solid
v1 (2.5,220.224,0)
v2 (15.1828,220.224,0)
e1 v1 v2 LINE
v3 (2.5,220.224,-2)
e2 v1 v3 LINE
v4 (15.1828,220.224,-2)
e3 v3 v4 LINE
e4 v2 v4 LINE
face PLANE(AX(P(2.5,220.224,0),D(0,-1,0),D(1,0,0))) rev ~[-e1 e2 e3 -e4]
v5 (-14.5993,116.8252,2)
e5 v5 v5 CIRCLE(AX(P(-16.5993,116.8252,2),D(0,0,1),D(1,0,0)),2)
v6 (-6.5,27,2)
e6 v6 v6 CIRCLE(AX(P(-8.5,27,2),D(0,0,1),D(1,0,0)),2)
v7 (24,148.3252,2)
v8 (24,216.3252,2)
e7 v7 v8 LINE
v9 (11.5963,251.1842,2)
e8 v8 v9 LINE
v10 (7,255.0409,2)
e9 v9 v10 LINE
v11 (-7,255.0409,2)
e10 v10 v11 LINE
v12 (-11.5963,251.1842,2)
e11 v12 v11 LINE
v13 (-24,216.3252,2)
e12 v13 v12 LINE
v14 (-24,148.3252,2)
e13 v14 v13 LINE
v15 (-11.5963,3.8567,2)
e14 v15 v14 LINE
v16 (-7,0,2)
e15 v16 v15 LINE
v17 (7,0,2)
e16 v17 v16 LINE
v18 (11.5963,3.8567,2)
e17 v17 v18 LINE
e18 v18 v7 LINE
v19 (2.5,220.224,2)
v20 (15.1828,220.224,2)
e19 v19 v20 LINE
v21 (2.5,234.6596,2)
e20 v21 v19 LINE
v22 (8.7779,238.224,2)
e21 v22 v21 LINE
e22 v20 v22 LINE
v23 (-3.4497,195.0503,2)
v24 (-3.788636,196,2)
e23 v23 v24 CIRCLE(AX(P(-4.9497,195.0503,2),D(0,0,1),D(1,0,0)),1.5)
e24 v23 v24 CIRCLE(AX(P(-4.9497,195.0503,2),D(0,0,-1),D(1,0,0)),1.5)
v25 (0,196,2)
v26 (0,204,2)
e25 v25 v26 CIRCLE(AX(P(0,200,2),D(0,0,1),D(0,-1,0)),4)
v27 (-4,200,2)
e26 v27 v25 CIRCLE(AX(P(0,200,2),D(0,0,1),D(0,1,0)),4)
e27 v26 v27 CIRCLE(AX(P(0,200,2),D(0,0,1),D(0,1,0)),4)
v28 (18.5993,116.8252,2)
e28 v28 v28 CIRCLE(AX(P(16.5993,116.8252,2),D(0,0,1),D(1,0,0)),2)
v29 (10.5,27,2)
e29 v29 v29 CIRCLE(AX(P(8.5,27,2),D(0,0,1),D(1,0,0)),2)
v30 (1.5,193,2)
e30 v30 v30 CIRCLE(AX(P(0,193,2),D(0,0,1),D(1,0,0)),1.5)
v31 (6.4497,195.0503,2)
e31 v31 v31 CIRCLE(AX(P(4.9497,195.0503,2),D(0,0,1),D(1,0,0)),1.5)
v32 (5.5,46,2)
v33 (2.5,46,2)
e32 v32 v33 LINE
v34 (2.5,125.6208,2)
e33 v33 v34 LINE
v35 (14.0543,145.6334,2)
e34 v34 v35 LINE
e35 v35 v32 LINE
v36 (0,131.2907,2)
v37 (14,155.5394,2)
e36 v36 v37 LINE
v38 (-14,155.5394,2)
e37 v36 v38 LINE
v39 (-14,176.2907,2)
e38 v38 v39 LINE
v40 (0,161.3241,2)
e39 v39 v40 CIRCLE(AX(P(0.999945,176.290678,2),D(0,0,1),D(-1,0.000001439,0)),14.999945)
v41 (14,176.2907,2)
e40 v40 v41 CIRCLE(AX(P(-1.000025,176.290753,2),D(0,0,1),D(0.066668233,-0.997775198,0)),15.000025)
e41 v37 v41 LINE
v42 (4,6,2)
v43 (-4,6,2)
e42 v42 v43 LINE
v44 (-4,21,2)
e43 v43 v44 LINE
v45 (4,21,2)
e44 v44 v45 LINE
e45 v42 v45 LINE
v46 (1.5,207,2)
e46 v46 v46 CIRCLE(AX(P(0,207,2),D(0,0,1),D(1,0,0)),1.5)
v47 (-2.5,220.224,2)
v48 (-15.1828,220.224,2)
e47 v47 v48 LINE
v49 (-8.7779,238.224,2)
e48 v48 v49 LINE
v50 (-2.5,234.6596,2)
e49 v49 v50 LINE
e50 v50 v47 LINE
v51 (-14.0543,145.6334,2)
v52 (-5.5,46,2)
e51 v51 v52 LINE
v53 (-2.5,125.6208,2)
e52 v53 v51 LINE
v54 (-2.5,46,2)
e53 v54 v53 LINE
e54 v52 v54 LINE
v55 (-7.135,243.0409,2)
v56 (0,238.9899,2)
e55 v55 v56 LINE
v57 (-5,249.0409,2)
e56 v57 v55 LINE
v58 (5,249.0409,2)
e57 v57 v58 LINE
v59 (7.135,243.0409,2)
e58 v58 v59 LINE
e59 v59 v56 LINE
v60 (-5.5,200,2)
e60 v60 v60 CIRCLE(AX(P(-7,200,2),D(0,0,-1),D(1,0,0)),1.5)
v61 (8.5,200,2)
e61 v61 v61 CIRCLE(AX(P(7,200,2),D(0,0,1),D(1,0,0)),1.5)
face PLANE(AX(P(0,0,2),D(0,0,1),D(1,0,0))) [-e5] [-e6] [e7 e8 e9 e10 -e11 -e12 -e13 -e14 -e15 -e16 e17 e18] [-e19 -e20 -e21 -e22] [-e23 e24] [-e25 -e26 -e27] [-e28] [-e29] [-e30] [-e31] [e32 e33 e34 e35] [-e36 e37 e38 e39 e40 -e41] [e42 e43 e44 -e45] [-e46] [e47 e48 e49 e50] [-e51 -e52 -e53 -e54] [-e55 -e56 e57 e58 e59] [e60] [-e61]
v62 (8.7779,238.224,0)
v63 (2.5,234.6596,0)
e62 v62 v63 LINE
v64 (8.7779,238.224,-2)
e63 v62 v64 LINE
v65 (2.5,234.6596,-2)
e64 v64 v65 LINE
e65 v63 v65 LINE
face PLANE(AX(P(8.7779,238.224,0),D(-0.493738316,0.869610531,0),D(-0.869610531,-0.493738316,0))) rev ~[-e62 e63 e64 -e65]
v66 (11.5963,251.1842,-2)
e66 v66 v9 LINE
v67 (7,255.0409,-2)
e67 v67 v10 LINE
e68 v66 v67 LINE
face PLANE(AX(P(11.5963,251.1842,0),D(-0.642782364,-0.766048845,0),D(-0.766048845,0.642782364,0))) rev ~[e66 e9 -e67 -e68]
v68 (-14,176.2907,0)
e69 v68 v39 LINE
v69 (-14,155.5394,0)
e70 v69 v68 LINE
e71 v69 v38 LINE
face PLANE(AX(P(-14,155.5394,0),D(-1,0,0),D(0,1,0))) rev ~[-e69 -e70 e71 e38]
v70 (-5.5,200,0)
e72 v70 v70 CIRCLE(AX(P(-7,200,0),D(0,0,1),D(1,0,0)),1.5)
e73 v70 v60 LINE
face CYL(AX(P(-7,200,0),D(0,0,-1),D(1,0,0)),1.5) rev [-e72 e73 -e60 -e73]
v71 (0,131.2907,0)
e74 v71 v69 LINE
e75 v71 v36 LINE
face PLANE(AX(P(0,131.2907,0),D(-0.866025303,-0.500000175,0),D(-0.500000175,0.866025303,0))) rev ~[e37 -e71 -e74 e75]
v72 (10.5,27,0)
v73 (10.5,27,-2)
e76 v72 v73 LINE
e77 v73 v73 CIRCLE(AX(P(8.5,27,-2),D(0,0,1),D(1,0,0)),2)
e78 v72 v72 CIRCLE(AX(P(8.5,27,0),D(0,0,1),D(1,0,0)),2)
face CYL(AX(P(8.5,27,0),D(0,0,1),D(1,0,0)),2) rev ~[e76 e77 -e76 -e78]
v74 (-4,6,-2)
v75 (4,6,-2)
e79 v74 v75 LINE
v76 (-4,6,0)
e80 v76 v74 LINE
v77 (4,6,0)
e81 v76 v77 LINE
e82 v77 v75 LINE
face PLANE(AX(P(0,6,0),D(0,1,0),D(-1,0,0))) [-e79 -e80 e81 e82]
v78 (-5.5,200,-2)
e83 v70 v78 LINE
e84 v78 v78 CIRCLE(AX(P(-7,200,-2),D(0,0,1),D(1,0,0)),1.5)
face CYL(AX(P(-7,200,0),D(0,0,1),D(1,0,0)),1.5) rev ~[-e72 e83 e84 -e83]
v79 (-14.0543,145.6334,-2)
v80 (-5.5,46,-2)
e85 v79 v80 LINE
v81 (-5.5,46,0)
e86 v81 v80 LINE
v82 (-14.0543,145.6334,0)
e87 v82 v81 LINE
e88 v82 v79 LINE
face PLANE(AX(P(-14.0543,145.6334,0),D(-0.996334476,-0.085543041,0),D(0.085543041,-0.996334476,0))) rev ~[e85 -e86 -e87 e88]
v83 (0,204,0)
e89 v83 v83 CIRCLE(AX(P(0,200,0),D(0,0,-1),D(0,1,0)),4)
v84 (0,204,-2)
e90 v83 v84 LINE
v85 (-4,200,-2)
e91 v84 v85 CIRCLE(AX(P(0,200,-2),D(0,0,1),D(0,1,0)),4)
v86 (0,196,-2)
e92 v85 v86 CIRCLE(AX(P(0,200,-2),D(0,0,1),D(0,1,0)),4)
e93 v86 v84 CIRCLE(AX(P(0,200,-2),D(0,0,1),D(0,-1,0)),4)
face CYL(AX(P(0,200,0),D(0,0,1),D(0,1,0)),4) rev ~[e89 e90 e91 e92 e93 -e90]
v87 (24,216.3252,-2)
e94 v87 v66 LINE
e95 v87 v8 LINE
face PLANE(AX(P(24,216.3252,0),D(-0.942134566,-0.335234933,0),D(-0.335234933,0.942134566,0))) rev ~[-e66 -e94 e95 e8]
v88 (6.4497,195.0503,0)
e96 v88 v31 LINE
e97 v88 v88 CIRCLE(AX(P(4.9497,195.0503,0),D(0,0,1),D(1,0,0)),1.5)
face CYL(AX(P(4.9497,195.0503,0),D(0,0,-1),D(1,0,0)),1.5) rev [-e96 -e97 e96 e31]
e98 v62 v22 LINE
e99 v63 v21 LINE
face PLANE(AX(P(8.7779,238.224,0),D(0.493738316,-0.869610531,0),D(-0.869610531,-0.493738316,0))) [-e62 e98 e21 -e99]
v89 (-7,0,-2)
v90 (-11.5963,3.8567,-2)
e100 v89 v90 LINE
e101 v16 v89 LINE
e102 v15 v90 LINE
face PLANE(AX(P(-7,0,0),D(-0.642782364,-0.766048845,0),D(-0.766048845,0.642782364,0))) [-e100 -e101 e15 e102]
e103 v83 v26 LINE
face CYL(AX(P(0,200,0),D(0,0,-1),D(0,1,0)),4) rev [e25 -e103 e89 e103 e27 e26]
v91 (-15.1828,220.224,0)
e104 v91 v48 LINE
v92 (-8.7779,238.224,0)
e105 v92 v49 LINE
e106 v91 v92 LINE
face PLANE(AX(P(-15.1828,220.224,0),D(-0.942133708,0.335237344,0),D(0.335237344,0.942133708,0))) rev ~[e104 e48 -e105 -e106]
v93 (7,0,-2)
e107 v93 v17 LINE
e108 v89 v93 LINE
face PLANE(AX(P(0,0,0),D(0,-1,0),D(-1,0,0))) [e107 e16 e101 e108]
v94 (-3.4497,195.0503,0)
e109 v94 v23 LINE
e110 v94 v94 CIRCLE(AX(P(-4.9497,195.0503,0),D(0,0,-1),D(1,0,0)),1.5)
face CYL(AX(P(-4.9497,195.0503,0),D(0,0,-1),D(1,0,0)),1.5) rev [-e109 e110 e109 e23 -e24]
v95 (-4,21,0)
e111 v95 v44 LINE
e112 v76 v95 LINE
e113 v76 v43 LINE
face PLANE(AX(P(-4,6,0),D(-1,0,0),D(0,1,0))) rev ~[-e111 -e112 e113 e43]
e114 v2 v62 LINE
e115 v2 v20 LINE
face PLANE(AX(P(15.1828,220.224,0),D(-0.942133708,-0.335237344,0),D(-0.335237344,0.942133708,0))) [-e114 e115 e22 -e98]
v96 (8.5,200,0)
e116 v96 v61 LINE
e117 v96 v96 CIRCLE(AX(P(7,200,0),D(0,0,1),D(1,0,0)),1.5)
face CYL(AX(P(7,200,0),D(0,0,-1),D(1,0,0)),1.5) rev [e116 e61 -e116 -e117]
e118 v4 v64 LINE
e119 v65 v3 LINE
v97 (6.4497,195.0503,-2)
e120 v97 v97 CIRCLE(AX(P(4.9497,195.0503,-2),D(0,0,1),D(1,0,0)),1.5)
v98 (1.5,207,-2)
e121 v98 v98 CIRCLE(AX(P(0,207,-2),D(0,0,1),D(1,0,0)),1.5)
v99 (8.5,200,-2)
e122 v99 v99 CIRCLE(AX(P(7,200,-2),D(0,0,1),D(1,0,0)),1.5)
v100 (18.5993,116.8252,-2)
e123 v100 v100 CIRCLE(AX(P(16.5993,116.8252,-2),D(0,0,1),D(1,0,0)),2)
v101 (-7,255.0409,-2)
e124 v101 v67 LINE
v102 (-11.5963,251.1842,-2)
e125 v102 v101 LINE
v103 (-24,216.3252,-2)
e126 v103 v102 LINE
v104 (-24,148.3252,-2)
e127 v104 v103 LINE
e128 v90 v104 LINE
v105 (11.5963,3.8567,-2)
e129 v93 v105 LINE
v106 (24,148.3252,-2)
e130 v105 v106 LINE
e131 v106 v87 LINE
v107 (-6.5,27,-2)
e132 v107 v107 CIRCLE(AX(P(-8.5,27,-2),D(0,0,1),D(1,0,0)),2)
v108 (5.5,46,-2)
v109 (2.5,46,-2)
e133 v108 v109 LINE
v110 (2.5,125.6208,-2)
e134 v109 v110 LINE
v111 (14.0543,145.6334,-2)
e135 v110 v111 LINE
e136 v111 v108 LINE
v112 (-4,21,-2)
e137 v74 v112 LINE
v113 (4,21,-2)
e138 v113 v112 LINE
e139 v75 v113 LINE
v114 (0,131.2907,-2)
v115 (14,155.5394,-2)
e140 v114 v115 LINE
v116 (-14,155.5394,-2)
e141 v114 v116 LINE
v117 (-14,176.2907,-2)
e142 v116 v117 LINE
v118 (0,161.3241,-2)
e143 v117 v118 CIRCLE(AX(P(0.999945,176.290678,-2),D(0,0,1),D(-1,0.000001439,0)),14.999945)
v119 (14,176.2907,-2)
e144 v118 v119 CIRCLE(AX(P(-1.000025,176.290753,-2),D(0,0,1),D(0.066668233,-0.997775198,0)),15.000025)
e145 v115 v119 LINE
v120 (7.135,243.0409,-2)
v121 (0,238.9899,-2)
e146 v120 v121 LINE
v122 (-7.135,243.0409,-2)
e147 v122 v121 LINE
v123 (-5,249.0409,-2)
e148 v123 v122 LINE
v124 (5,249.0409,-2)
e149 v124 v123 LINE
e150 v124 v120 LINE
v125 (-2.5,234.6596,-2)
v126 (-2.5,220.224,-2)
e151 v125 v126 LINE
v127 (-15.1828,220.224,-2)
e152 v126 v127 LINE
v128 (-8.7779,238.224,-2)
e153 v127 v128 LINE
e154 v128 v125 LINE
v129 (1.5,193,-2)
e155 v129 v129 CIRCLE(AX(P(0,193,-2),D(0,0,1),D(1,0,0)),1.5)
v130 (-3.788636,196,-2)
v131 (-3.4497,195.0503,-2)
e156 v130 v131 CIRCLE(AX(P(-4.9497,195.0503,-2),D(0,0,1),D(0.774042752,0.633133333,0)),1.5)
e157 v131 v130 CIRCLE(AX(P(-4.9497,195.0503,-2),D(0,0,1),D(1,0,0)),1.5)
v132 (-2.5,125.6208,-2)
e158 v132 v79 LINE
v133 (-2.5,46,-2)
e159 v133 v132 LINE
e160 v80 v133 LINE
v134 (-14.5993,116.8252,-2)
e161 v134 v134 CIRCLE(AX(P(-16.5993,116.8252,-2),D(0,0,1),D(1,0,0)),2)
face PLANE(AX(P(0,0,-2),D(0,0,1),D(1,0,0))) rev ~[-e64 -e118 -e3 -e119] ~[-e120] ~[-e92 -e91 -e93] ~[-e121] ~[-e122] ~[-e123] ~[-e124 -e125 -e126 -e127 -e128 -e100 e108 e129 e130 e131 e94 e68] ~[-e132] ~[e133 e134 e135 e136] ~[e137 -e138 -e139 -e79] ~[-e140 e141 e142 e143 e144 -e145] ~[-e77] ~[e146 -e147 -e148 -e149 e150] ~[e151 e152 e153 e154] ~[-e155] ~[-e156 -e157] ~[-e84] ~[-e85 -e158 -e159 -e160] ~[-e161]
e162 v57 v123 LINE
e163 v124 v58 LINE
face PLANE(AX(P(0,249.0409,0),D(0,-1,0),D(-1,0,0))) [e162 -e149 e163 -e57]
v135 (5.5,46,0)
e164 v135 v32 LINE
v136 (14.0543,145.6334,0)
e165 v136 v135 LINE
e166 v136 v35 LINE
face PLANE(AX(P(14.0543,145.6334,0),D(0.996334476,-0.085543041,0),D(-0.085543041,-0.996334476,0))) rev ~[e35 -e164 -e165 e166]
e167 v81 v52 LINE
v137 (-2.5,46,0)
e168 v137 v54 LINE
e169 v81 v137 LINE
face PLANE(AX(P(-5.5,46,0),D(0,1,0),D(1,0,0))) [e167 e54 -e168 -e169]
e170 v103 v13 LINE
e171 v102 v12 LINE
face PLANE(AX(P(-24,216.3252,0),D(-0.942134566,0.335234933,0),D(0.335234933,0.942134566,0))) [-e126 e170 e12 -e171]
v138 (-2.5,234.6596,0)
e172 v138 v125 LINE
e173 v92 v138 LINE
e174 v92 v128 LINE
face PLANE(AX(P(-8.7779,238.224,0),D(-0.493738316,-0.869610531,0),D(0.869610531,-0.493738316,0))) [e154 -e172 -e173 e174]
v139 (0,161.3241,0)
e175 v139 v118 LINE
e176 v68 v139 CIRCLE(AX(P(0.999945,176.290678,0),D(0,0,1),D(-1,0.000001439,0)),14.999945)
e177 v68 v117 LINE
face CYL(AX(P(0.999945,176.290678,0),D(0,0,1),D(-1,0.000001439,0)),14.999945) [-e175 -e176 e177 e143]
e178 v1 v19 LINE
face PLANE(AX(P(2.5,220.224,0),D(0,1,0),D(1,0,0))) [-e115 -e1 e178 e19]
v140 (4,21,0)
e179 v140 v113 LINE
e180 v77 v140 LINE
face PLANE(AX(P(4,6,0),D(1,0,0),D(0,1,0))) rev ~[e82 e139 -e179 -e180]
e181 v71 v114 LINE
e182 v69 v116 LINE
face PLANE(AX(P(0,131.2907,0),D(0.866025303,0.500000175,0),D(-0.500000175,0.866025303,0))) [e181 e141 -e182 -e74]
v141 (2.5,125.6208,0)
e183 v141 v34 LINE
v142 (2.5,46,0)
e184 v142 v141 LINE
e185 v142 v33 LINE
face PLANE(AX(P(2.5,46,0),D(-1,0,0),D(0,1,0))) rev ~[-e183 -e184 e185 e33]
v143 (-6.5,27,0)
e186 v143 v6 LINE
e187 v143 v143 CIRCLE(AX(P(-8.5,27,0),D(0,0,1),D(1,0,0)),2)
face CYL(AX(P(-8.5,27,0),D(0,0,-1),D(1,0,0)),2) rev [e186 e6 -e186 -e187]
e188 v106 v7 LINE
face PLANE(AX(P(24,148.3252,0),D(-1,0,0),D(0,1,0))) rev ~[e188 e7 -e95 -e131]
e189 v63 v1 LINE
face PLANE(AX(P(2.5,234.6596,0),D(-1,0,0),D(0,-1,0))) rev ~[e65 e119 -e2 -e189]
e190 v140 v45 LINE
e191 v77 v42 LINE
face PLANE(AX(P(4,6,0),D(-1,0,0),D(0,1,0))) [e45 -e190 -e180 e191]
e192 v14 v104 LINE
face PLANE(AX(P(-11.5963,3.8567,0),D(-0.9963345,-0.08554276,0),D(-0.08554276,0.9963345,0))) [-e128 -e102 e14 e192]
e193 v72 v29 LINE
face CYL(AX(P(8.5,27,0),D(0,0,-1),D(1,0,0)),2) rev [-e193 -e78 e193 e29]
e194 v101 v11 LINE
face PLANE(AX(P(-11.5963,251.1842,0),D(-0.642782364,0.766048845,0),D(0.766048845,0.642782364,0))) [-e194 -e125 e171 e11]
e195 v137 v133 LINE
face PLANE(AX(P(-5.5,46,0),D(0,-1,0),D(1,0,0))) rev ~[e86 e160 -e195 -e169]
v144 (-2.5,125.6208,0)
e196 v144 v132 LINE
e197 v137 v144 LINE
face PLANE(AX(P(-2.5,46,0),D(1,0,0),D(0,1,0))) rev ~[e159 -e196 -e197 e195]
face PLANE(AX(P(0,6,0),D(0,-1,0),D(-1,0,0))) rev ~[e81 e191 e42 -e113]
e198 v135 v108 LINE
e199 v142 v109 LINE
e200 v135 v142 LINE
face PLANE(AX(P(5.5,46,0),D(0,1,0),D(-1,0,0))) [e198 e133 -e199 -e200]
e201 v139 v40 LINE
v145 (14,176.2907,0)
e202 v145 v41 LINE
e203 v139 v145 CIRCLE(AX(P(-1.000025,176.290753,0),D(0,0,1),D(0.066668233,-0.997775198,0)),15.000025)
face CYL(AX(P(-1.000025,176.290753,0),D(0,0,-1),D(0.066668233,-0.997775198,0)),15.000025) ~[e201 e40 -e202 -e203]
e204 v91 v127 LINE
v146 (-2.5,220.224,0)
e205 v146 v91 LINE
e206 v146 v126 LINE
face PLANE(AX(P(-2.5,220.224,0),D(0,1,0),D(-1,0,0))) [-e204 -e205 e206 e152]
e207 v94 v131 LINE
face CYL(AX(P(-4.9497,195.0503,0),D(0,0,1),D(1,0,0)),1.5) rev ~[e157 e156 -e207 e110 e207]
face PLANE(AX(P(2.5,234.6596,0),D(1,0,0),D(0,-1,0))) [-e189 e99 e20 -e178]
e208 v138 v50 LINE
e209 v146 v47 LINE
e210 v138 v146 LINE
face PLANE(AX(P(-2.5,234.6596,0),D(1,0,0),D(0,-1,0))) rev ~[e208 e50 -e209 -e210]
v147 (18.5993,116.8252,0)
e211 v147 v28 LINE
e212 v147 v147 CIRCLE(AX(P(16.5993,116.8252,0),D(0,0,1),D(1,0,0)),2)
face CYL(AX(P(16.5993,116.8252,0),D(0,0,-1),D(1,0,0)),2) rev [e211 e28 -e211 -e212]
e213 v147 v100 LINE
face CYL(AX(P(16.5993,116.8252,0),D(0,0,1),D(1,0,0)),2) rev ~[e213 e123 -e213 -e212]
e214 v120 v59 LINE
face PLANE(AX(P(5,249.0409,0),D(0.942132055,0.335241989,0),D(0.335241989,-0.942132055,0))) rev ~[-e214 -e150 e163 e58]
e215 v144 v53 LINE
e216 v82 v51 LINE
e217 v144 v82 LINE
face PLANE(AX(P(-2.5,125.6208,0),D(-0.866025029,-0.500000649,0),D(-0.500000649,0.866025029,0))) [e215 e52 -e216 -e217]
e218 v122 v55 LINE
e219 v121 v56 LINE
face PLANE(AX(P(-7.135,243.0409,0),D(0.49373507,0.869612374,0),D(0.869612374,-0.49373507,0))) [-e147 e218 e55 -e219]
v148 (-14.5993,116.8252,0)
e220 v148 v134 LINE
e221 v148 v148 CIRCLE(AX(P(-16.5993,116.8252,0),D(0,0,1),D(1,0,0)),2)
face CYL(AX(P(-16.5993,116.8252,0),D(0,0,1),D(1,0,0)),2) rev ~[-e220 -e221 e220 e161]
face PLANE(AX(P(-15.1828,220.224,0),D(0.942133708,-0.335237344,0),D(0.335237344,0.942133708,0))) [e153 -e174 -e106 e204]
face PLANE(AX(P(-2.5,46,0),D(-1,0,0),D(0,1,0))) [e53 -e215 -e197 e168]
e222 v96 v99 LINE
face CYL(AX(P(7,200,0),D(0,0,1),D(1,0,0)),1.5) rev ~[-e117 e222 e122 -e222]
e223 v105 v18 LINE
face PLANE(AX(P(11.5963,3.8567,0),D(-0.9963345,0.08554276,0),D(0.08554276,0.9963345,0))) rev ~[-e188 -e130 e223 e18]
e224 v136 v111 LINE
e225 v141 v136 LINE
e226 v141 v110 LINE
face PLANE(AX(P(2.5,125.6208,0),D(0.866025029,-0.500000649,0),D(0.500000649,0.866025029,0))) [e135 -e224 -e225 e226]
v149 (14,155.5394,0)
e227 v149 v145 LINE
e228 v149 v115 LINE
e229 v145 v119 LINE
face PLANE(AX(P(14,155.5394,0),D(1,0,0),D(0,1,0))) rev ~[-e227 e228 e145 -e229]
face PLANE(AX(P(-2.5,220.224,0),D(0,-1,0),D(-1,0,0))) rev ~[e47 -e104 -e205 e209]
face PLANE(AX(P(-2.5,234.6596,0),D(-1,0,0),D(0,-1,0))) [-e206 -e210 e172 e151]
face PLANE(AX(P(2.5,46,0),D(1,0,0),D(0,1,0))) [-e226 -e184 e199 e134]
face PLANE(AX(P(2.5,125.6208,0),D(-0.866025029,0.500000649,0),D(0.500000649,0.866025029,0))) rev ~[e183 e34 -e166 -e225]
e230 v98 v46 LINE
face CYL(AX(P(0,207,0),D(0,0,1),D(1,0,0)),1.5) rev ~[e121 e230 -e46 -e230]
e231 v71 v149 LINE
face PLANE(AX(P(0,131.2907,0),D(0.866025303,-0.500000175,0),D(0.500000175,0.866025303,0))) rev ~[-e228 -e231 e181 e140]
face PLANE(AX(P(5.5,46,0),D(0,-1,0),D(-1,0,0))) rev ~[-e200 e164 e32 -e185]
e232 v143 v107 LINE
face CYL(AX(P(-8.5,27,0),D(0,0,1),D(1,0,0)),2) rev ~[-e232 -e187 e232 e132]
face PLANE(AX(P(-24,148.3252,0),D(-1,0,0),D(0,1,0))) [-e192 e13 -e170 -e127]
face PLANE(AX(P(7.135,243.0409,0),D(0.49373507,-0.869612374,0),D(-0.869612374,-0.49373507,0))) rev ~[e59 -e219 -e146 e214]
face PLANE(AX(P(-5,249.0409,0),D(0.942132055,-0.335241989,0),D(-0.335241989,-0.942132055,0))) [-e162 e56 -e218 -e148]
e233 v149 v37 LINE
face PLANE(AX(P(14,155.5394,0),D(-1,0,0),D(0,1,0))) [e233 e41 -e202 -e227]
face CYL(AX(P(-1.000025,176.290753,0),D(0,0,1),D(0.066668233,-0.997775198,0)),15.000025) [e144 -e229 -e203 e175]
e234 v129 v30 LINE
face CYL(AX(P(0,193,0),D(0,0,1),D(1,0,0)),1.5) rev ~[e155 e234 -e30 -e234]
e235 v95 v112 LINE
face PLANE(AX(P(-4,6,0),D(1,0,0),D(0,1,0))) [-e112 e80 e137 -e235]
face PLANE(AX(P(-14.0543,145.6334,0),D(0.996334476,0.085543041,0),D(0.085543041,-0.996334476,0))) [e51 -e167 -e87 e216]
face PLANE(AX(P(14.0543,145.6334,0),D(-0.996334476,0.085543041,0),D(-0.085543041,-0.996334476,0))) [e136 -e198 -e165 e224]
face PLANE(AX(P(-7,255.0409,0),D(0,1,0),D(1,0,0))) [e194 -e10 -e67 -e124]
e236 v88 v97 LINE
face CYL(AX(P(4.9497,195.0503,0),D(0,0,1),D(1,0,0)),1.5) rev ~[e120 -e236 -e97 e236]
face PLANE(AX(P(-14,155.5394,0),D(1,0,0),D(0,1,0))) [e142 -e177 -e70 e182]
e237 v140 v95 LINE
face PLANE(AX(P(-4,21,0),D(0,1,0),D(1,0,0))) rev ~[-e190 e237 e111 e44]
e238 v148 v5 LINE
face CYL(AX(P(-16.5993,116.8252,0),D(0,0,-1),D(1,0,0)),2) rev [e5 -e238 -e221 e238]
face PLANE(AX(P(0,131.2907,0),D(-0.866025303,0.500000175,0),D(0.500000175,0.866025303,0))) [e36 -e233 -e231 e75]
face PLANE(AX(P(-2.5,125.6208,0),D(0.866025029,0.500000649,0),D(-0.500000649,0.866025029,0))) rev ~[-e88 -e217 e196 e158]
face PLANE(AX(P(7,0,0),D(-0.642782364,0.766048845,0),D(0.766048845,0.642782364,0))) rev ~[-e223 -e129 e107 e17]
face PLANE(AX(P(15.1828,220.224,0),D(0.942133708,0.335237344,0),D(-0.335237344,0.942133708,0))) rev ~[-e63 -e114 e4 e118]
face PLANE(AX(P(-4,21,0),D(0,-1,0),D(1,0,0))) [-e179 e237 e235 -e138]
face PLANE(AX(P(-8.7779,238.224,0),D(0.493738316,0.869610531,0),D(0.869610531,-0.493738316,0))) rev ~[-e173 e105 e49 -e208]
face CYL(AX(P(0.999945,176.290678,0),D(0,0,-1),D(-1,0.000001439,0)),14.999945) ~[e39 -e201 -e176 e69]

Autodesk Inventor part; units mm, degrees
ref_plane "YZ Plane" through (0, 0, 0) normal (1, 0, 0) x (0, 1, 0)
ref_plane "XZ Plane" through (0, 0, 0) normal (0, 1, 0) x (-1, 0, 0)
ref_plane "XY Plane" through (0, 0, 0) normal (0, 0, 1) x (1, 0, 0)
sketch "Sketch1" plane through (0, 0, 0) normal (0, 0, 1) x (1, 0, 0)
  line L0 (0, 0) -> (-7, 0)
  line L1 (-7, 0) -> (-11.5963, 3.8567)
  line L2 (-11.5963, 3.8567) -> (-24, 148.3252)
  line L3 (-24, 148.3252) -> (-24, 216.3252)
  line L4 (-24, 216.3252) -> (-11.5963, 251.1842)
  line L5 (-11.5963, 251.1842) -> (-7, 255.0409)
  line L6 (-7, 255.0409) -> (0, 255.0409)
  line L7 (0, 255.0409) -> (0, 0)
  line L8 (0, 6) -> (-4, 6)
  line L9 (-4, 6) -> (-4, 21)
  line L10 (-4, 21) -> (0, 21)
  line L11 (-5.5, 46) -> (-2.5, 46)
  line L12 (-2.5, 46) -> (-2.5, 125.6208)
  line L13 (-2.5, 125.6208) -> (-14.0543, 145.6334)
  line L14 (-14.0543, 145.6334) -> (-5.5, 46)
  line L15 (0, 249.0409) -> (-5, 249.0409)
  line L16 (-5, 249.0409) -> (-7.135, 243.0409)
  line L17 (-7.135, 243.0409) -> (0, 238.9899)
  line L18 (-8.7779, 238.224) -> (-2.5, 234.6596)
  line L19 (-2.5, 234.6596) -> (-2.5, 220.224)
  line L20 (-2.5, 220.224) -> (-15.1828, 220.224)
  line L21 (-15.1828, 220.224) -> (-8.7779, 238.224)
  line L22 (0, 131.2907) -> (-14, 155.5394)
  arc A0 (0, 204) -> (0, 196) centre (0, 200) ccw
  circle A1 centre (-7, 200) radius 1.5
  line L23 (0, 0) -> (7, 0)
  line L24 (7, 0) -> (11.5963, 3.8567)
  line L25 (11.5963, 3.8567) -> (24, 148.3252)
  line L26 (24, 148.3252) -> (24, 216.3252)
  line L27 (24, 216.3252) -> (11.5963, 251.1842)
  line L28 (11.5963, 251.1842) -> (7, 255.0409)
  line L29 (7, 255.0409) -> (0, 255.0409)
  line L30 (0, 6) -> (4, 6)
  line L31 (4, 6) -> (4, 21)
  line L32 (4, 21) -> (0, 21)
  line L33 (5.5, 46) -> (2.5, 46)
  line L34 (2.5, 46) -> (2.5, 125.6208)
  line L35 (2.5, 125.6208) -> (14.0543, 145.6334)
  line L36 (14.0543, 145.6334) -> (5.5, 46)
  line L37 (0, 249.0409) -> (5, 249.0409)
  line L38 (5, 249.0409) -> (7.135, 243.0409)
  line L39 (7.135, 243.0409) -> (0, 238.9899)
  line L40 (8.7779, 238.224) -> (2.5, 234.6596)
  line L41 (2.5, 234.6596) -> (2.5, 220.224)
  line L42 (2.5, 220.224) -> (15.1828, 220.224)
  line L43 (15.1828, 220.224) -> (8.7779, 238.224)
  line L44 (0, 131.2907) -> (14, 155.5394)
  arc A2 (0, 196) -> (0, 204) centre (0, 200) ccw
  circle A3 centre (-16.5993, 116.8252) radius 2
  circle A4 centre (16.5993, 116.8252) radius 2
  circle A5 centre (-8.5, 27) radius 2
  circle A6 centre (8.5, 27) radius 2
  line L45 (0, 200) -> (-10, 200)
  line L46 (0, 204) -> (-14, 204)
  line L47 (0, 196) -> (-14, 196)
  circle A7 centre (-4.9497, 195.0503) radius 1.5
  circle A8 centre (0, 193) radius 1.5
  circle A9 centre (4.9497, 195.0503) radius 1.5
  circle A10 centre (7, 200) radius 1.5
  circle A11 centre (0, 207) radius 1.5
  line L48 (-14, 155.5394) -> (-14, 176.2907)
  arc A12 (-14, 176.2907) -> (0, 161.3241) centre (1, 176.2907) ccw
  line L49 (14, 155.5394) -> (14, 176.2907)
  arc A13 (0, 161.3241) -> (14, 176.2907) centre (-1, 176.2907) ccw
  point P0 (0, 155.5394)
  dimension "d0" = 7
  dimension "d1" = 6
  dimension "d2" = 145
  dimension "d3" = 68
  dimension "d4" = 37
  dimension "d5" = 48
  dimension "d8" = 140
  dimension "d9" = 140
  dimension "d10" = 15
  dimension "d11" = 6
  dimension "d12" = 4
  dimension "d13" = 3
  dimension "d14" = 5
  dimension "d15" = 25
  dimension "d17" = 100
  dimension "d19" = 5
  dimension "d20" = 28
  dimension "d21" = 150
  dimension "d29" = 6
  dimension "d32" = 6
  dimension "d33" = 4
  dimension "d38" = 3
  dimension "d42" = 4
  dimension "d43" = 31.5
  dimension "d45" = 5
  dimension "d46" = 4
  dimension "d47" = 17
  dimension "d48" = 6
  dimension "d51" = 200
  dimension "d54" = 3
  dimension "d56" = 14
  dimension "d57" = 8
  dimension "d58" = 7
  dimension "d61" = 180
  dimension "d63" = 5
  dimension "d64" = 5
  dimension "d65" = 100
  dimension "d66" = 7
  dimension "d67" = 5
  dimension "d68" = 18
  dimension "d69" = 15
  dimension "d70" = 15
  dimension "d71" = 45
extrude "Extrusion1" add sketch "Sketch1" along normal mid plane 4 contours L0 L1 L2 L3 L4 L5 L6 L7 L15 L16 L17 A11 A0 A8 A12 L48 L22 L10 L9 L8 | L7 L30 L31 L32 L44 L49 A13 A8 A2 A11 L39 L38 L37 L29 L28 L27 L26 L25 L24 L23 | A8 L7 | L7 A8 | A11 L7 | L7 A11
extrude "Extrusion2" cut sketch "Sketch1" along normal mid plane 10 contours A8 L7 | L7 A8 | A11 L7 | L7 A11
properties part number "Leg_part3"
